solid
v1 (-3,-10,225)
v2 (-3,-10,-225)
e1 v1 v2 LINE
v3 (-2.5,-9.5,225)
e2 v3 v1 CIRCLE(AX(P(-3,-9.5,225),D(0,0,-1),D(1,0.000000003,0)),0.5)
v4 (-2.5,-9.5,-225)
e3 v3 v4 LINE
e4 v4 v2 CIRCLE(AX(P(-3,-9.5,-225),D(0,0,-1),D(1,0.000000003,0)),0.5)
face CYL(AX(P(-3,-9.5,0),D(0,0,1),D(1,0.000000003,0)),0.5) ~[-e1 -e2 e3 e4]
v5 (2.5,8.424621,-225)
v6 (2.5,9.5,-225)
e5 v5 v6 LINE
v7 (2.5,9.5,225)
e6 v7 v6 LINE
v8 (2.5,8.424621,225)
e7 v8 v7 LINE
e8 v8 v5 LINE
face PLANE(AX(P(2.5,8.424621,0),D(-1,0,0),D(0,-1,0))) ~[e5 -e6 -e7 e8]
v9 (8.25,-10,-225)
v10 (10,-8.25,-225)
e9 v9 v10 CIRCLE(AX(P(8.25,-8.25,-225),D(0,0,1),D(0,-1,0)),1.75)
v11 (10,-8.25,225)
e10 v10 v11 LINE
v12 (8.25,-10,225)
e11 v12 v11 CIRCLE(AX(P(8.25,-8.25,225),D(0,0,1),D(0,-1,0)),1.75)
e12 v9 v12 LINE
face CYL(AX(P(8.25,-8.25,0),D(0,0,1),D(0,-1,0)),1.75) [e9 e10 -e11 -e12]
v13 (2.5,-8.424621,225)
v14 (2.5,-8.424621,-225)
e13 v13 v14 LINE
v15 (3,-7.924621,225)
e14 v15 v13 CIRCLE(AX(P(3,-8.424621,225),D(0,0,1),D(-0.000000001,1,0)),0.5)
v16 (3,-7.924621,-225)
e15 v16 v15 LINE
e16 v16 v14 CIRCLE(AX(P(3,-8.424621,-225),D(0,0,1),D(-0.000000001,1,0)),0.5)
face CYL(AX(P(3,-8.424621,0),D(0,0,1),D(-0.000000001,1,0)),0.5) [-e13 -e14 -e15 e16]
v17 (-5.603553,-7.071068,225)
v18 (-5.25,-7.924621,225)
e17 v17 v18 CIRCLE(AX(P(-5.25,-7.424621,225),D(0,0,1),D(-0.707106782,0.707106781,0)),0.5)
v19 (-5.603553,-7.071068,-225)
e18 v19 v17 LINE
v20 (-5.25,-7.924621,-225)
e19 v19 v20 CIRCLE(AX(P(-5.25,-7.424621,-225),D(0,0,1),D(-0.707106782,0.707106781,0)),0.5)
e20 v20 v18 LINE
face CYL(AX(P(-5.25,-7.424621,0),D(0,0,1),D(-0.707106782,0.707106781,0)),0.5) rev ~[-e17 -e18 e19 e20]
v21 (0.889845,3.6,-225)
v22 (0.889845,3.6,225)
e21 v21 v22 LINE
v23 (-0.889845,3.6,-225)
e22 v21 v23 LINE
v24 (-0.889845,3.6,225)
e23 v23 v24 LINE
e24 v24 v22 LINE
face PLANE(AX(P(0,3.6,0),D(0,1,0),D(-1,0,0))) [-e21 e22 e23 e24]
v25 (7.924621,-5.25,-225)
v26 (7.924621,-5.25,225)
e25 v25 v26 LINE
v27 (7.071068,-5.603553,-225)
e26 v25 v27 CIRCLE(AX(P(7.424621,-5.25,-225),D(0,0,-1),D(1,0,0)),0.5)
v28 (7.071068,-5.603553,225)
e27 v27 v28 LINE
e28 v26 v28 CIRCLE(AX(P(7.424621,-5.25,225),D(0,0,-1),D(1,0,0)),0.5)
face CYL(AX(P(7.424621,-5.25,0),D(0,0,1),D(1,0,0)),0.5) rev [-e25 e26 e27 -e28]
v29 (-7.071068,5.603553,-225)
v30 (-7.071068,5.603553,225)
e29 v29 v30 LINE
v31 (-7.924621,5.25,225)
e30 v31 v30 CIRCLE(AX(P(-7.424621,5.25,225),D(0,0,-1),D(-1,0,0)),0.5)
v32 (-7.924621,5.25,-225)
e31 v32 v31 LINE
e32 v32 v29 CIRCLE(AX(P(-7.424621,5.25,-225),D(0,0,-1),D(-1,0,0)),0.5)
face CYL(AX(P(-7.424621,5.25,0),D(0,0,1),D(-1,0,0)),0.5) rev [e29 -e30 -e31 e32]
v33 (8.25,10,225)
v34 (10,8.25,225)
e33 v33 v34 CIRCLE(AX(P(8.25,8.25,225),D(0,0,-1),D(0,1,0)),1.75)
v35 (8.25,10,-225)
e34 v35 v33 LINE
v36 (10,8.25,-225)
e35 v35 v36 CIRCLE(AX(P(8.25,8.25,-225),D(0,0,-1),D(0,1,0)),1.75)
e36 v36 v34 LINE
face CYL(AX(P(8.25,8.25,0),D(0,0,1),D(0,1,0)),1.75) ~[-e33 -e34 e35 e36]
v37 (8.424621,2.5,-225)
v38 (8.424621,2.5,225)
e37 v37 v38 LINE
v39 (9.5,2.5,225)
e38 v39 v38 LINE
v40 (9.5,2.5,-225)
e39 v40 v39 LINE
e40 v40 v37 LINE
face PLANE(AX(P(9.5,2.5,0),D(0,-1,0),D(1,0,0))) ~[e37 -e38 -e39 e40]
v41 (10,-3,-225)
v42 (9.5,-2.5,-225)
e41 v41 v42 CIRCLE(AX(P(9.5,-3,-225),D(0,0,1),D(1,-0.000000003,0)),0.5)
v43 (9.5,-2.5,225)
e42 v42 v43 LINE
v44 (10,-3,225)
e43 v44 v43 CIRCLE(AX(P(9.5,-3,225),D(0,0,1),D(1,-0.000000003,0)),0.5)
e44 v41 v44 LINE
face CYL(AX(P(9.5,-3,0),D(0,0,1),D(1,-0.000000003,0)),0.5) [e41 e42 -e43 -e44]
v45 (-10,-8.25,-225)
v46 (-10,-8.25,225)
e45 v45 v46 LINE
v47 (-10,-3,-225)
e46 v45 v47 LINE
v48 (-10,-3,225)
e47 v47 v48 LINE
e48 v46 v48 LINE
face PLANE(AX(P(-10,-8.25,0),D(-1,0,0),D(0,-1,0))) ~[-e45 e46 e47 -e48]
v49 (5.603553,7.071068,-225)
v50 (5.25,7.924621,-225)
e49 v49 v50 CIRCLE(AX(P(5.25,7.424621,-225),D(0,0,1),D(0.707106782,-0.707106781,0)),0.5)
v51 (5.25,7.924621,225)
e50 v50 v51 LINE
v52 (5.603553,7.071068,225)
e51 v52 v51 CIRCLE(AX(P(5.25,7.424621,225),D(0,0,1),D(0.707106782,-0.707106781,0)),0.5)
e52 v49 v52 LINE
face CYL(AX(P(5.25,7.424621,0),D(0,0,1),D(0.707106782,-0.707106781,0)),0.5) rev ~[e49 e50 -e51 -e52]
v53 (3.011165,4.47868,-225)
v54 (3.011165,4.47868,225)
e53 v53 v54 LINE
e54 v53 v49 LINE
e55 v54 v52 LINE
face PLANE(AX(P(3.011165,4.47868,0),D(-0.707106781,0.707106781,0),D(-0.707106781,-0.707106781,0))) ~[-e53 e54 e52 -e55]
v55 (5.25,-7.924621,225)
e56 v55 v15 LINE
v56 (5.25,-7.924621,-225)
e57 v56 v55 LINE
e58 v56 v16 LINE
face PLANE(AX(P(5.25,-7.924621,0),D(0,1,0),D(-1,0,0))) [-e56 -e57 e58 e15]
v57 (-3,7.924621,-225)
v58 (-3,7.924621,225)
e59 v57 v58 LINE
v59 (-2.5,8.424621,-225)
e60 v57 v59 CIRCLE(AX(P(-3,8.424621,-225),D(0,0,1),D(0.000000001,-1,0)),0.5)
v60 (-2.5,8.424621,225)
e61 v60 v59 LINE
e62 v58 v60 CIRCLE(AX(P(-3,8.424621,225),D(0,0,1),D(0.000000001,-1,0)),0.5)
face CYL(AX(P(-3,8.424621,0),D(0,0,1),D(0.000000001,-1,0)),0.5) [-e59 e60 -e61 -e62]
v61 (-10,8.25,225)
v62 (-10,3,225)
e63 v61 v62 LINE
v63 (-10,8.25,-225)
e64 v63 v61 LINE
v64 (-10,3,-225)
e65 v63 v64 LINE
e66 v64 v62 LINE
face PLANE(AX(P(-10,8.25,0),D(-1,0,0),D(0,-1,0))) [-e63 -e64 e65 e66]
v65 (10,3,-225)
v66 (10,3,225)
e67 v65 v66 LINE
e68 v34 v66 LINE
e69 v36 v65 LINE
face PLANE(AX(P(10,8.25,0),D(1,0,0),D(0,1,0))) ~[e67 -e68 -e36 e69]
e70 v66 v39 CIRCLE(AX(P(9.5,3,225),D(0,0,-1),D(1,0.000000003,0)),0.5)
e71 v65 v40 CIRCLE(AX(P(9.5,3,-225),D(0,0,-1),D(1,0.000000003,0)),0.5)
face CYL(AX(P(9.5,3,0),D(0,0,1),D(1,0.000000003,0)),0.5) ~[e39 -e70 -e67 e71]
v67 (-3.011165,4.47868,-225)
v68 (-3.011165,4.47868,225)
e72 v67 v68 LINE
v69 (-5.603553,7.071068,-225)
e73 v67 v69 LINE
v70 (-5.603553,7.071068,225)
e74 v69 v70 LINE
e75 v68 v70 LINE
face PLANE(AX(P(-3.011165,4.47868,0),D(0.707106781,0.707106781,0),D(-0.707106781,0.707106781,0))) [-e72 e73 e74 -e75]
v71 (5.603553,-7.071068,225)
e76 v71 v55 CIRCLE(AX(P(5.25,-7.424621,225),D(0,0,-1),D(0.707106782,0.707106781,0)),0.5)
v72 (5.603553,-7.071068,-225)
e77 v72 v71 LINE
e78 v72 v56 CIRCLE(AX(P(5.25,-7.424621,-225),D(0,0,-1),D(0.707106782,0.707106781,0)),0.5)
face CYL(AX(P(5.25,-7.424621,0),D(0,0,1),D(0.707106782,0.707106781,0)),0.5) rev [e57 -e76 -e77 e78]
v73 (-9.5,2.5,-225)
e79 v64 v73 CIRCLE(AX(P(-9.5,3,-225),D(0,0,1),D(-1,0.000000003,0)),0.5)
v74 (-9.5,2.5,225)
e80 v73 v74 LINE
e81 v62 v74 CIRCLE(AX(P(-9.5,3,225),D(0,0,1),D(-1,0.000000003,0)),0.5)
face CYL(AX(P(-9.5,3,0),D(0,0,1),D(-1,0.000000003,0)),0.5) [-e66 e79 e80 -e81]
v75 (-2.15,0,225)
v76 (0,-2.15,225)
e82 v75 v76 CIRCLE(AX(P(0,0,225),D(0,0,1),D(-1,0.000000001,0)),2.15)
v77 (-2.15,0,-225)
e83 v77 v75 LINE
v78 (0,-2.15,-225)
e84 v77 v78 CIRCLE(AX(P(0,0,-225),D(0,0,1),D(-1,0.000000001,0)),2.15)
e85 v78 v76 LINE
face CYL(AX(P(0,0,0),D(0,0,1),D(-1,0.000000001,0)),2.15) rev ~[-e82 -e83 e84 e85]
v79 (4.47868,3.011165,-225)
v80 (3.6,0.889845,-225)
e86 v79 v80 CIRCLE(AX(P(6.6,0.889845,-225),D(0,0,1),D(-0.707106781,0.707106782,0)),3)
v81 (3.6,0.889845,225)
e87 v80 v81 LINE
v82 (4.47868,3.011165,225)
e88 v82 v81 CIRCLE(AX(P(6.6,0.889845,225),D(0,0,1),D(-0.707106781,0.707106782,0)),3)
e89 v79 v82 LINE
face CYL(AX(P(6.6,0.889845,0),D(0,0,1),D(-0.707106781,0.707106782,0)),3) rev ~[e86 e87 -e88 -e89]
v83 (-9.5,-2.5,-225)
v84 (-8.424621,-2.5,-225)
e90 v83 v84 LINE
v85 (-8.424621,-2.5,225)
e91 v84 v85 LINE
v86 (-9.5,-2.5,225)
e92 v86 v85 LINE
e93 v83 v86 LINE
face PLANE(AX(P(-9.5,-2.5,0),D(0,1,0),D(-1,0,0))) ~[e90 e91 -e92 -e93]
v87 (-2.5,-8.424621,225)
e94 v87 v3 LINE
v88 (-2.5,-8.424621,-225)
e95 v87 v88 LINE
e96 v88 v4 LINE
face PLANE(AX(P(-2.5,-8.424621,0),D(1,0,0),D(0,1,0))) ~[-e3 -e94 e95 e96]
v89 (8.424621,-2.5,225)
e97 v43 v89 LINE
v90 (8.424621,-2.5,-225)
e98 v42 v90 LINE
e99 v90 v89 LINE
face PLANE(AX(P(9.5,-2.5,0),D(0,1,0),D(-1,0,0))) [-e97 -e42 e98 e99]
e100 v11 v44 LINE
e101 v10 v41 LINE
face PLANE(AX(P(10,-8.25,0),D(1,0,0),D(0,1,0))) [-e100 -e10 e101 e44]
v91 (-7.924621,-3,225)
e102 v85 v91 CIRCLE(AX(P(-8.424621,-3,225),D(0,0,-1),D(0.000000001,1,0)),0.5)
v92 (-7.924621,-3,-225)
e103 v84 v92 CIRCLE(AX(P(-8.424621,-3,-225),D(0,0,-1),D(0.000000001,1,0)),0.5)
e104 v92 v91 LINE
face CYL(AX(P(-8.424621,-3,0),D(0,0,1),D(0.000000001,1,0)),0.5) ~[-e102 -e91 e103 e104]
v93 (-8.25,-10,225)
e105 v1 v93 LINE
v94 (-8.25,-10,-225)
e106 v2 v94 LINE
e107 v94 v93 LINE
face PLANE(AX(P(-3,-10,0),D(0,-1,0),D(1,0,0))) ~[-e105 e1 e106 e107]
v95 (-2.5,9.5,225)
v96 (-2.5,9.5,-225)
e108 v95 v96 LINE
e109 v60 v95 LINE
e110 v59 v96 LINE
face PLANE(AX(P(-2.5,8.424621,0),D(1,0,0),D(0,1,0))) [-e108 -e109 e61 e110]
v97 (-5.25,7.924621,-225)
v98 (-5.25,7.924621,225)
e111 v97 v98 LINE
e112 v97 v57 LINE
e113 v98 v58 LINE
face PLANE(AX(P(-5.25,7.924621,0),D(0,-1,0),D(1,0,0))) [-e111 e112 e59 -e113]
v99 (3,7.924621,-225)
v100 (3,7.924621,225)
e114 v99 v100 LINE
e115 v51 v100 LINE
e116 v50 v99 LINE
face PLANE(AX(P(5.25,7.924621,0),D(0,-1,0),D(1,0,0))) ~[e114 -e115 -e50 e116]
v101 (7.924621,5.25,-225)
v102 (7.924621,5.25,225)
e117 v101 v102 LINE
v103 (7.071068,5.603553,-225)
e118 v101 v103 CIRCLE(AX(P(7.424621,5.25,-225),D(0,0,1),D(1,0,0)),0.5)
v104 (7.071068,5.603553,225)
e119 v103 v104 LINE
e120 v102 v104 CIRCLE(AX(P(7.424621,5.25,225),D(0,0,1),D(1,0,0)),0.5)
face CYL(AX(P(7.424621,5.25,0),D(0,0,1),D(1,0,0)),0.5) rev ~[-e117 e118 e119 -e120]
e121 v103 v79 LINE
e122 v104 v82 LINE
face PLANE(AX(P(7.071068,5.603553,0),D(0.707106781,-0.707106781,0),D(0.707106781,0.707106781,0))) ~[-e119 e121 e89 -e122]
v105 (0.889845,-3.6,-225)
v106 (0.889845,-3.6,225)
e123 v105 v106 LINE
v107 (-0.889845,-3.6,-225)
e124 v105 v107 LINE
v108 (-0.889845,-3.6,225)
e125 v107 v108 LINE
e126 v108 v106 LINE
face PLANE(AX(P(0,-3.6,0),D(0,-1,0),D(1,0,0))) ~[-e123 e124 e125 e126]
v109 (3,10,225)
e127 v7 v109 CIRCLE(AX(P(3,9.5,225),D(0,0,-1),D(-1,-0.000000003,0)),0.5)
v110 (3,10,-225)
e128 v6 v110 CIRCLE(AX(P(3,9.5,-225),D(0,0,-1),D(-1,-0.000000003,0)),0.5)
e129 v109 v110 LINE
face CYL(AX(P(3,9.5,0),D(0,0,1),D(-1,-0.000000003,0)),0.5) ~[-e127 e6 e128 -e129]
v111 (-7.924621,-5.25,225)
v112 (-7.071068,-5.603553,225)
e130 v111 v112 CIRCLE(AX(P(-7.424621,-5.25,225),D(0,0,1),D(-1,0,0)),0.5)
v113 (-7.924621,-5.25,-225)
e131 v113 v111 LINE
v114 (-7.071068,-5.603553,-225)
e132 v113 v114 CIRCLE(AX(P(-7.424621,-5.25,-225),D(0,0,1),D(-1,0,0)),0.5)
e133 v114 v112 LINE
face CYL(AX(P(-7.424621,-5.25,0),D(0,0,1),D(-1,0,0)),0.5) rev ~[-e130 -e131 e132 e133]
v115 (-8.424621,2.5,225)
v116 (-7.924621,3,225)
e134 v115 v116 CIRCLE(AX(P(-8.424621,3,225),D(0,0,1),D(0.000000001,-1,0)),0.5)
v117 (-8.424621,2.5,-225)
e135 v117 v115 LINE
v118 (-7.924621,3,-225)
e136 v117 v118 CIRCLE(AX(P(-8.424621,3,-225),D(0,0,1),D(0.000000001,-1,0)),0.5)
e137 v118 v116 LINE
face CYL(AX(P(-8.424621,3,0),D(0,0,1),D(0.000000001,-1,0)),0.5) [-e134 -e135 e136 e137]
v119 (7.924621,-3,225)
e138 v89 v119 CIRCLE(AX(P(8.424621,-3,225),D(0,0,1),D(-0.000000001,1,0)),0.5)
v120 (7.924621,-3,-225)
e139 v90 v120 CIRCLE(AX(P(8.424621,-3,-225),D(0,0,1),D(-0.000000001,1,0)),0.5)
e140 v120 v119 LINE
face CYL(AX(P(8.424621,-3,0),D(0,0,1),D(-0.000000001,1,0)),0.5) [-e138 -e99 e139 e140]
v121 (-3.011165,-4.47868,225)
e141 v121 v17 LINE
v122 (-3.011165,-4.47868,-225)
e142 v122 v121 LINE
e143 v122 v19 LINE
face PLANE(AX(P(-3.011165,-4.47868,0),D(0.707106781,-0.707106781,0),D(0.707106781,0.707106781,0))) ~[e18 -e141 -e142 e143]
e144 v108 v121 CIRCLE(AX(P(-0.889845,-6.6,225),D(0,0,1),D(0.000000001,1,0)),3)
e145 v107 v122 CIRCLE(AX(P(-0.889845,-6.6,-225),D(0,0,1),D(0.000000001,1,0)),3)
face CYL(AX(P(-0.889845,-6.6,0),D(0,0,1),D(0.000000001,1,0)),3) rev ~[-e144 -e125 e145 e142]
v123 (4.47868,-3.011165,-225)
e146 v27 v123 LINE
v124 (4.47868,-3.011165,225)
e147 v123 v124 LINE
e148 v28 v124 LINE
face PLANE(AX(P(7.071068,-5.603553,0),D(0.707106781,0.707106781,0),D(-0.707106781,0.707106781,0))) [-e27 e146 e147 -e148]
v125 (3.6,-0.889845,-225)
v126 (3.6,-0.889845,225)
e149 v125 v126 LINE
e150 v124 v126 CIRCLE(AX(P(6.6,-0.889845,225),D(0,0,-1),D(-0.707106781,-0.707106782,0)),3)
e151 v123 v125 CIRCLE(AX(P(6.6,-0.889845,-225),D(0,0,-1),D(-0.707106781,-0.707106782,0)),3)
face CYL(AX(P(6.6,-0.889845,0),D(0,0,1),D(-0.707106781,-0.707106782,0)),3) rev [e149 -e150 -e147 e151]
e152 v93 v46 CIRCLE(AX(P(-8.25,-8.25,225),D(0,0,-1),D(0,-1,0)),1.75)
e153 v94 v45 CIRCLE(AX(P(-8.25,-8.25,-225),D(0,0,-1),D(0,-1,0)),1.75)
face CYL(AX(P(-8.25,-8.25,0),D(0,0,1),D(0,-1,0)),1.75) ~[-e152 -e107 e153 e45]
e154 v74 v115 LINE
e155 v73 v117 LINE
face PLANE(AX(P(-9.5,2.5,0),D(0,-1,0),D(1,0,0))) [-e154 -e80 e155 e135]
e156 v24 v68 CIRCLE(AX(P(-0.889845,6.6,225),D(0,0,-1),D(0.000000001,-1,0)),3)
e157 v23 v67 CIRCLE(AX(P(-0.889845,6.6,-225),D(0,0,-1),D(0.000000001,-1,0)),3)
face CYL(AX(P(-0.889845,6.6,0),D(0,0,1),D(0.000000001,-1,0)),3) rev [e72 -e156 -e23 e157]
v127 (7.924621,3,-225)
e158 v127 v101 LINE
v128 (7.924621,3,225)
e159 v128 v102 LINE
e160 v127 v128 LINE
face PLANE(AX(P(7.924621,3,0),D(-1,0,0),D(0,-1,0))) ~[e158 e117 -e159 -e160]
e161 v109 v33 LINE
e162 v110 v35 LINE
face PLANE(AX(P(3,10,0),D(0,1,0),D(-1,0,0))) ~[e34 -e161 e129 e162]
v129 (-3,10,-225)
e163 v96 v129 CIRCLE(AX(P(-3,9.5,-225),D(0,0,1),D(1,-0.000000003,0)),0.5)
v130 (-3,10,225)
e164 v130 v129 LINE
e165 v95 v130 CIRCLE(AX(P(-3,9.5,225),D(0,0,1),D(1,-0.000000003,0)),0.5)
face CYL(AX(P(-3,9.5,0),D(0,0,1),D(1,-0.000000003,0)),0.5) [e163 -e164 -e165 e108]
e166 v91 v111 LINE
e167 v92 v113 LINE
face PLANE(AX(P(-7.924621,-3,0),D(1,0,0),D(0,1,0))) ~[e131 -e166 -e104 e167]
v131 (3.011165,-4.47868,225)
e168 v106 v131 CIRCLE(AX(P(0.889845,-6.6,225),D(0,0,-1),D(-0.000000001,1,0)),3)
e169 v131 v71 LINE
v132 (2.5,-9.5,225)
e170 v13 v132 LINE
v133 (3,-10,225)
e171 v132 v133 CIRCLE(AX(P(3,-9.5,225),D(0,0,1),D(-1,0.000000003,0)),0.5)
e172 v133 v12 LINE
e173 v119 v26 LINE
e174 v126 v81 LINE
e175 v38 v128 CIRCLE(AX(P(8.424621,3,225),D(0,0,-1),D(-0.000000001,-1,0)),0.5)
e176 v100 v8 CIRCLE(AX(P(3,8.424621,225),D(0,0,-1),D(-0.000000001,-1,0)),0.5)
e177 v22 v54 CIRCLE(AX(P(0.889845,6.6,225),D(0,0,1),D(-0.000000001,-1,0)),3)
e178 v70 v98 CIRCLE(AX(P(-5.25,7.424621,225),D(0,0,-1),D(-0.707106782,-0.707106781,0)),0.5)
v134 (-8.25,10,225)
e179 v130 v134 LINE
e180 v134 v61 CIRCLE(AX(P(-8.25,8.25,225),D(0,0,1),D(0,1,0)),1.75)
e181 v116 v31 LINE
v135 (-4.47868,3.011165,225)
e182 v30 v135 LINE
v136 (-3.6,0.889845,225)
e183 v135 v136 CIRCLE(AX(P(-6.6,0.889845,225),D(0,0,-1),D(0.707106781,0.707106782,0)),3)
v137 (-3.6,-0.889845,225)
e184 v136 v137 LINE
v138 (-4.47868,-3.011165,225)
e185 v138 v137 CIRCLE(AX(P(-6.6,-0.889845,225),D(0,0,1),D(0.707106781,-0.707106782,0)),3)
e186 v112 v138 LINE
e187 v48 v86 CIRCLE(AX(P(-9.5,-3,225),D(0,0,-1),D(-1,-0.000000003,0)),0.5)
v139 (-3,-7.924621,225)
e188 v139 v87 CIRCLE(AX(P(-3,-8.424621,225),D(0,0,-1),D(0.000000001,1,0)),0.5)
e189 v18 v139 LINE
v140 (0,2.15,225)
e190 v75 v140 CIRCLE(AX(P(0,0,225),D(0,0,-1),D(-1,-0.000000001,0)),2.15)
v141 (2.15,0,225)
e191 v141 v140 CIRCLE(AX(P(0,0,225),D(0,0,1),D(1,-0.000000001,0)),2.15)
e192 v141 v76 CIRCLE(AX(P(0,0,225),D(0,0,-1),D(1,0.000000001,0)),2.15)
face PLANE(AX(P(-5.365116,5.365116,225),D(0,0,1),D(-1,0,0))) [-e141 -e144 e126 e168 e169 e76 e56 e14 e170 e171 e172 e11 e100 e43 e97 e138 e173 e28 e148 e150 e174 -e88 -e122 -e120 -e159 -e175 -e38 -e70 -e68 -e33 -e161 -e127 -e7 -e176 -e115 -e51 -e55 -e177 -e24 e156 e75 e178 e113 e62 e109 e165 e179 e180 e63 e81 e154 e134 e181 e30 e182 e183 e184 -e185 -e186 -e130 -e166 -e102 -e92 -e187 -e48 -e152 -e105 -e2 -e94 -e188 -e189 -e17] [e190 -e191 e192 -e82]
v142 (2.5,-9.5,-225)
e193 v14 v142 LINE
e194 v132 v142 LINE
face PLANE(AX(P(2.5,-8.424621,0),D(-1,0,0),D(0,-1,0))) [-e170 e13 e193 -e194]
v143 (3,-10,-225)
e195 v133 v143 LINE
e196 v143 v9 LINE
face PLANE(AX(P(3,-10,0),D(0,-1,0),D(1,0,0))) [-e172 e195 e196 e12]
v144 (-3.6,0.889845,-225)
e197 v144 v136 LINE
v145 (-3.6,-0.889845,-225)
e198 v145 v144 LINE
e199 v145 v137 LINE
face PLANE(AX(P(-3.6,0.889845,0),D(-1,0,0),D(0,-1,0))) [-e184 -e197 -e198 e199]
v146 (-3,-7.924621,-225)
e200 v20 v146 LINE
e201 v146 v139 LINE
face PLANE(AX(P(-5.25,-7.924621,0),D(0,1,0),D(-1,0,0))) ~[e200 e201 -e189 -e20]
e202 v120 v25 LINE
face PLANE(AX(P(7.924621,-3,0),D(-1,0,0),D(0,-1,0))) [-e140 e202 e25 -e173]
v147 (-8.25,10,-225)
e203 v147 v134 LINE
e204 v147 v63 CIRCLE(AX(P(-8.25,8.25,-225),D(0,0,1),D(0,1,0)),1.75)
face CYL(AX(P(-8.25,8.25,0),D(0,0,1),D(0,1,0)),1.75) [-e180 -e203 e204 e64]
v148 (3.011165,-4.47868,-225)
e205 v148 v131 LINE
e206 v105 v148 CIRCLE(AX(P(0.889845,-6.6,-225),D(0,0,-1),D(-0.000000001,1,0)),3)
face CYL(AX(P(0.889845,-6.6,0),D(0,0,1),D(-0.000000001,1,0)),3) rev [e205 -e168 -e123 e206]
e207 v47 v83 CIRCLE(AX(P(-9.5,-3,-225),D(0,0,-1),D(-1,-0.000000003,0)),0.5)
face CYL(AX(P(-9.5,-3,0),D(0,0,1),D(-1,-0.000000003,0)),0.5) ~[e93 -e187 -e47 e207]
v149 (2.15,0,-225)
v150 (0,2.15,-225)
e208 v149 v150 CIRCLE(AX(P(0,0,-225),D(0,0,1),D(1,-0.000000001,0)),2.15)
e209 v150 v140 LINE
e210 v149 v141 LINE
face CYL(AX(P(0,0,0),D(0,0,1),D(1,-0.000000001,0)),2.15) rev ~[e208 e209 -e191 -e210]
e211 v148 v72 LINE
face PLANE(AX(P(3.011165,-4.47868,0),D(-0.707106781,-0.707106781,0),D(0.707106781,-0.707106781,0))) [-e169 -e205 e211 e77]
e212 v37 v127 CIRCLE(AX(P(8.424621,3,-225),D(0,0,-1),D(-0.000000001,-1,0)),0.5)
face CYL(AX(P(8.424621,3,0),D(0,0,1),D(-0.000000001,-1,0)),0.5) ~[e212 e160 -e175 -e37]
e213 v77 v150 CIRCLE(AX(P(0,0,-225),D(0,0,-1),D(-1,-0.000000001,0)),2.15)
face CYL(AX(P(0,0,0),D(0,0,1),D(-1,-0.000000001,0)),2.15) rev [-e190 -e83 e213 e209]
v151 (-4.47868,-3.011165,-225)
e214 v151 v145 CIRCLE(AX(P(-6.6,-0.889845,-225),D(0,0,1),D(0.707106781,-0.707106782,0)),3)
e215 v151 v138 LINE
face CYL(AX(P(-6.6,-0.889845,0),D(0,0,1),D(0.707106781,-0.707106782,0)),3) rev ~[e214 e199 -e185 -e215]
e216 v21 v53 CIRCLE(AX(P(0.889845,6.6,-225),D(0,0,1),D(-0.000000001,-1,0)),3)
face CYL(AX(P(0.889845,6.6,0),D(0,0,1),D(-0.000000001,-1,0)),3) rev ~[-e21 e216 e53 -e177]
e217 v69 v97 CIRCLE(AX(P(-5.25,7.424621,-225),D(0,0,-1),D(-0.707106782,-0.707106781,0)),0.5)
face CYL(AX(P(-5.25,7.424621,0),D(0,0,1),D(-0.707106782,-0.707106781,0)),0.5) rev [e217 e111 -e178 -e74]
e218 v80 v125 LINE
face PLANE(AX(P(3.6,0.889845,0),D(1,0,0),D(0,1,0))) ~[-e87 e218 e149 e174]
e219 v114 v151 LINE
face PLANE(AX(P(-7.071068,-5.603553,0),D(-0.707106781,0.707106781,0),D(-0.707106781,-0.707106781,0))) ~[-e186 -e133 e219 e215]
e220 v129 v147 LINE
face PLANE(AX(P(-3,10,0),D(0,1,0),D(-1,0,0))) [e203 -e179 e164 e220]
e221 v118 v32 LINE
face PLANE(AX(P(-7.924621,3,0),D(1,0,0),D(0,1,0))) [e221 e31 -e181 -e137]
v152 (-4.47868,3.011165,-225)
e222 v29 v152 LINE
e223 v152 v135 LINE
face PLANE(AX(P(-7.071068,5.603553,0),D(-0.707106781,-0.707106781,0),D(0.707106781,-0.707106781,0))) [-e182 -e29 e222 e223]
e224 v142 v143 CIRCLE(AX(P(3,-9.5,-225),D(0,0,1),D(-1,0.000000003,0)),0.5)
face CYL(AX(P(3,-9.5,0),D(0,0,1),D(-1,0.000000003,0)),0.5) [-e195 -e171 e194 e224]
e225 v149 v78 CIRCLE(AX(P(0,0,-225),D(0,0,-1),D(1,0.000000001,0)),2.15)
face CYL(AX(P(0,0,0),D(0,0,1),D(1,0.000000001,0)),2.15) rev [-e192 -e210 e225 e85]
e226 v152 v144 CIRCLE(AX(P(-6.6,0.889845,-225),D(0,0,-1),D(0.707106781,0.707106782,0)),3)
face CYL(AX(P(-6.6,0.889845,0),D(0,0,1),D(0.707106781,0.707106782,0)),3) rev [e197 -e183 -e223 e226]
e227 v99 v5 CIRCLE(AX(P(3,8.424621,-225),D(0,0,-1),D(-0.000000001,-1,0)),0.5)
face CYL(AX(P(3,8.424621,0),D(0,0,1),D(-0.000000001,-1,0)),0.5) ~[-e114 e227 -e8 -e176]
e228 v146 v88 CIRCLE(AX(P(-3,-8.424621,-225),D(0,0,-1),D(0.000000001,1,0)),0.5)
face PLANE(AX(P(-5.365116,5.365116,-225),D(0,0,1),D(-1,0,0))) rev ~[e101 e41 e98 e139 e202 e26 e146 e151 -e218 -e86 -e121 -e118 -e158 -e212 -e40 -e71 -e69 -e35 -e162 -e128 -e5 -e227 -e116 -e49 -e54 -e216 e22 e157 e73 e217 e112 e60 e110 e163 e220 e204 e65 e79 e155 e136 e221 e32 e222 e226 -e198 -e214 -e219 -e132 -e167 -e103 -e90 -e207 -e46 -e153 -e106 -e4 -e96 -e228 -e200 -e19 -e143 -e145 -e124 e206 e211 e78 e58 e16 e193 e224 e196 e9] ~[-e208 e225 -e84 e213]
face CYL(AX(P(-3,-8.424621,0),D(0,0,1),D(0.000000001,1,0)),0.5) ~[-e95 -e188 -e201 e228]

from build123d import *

# Parameters (mm, degrees)
BOSS_EXTRUDE1_DEPTH = 225


with BuildPart() as part:
    # Sketch4 → Boss-Extrude1 (new, symmetric)
    with BuildSketch(Plane.XY):
        with BuildLine():
            Line((3, -10), (8.25, -10))
            ThreePointArc((8.25, -10), (9.487436867, -9.487436867), (10, -8.25))
            Line((10, -8.25), (10, -3))
            ThreePointArc((10, -3), (9.853553391, -2.646446609), (9.5, -2.5))
            Line((9.5, -2.5), (8.424621202, -2.5))
            ThreePointArc((8.424621202, -2.5), (8.071067812, -2.646446609), (7.924621202, -3))
            Line((7.924621202, -3), (7.924621202, -5.25))
            ThreePointArc((7.924621202, -5.25), (7.615962919, -5.711939766), (7.071067812, -5.603553391))
            Line((7.071067812, -5.603553391), (4.478679656, -3.011165235))
            ThreePointArc((4.478679656, -3.011165235), (3.828361402, -2.037895189), (3.6, -0.889844892))
            Line((3.6, -0.889844892), (3.6, 0))
            Line((3.6, 0), (2.15, 0))
            ThreePointArc((2.15, 0), (1.52027958, -1.52027958), (0, -2.15))
            Line((0, -2.15), (0, -3.6))
            Line((0, -3.6), (0.889844892, -3.6))
            ThreePointArc((0.889844892, -3.6), (2.037895189, -3.828361402), (3.011165235, -4.478679656))
            Line((3.011165235, -4.478679656), (5.603553391, -7.071067812))
            ThreePointArc((5.603553391, -7.071067812), (5.711939766, -7.615962919), (5.25, -7.924621202))
            Line((5.25, -7.924621202), (3, -7.924621202))
            ThreePointArc((3, -7.924621202), (2.646446609, -8.071067812), (2.5, -8.424621202))
            Line((2.5, -8.424621202), (2.5, -9.5))
            ThreePointArc((2.5, -9.5), (2.646446609, -9.853553391), (3, -10))
        make_face()
    extrude(amount=BOSS_EXTRUDE1_DEPTH, both=True)

    # Mirror1: part across plane


with BuildPart() as part_1:
    add(part.part)
    add(part.part.mirror(Plane(origin=(0, 0, 0), x_dir=(0, 0, 1), z_dir=(1, 0, 0))))

    # Mirror2: part across plane


with BuildPart() as part_2:
    add(part_1.part)
    add(part_1.part.mirror(Plane.ZX))


solid = part_2.part
